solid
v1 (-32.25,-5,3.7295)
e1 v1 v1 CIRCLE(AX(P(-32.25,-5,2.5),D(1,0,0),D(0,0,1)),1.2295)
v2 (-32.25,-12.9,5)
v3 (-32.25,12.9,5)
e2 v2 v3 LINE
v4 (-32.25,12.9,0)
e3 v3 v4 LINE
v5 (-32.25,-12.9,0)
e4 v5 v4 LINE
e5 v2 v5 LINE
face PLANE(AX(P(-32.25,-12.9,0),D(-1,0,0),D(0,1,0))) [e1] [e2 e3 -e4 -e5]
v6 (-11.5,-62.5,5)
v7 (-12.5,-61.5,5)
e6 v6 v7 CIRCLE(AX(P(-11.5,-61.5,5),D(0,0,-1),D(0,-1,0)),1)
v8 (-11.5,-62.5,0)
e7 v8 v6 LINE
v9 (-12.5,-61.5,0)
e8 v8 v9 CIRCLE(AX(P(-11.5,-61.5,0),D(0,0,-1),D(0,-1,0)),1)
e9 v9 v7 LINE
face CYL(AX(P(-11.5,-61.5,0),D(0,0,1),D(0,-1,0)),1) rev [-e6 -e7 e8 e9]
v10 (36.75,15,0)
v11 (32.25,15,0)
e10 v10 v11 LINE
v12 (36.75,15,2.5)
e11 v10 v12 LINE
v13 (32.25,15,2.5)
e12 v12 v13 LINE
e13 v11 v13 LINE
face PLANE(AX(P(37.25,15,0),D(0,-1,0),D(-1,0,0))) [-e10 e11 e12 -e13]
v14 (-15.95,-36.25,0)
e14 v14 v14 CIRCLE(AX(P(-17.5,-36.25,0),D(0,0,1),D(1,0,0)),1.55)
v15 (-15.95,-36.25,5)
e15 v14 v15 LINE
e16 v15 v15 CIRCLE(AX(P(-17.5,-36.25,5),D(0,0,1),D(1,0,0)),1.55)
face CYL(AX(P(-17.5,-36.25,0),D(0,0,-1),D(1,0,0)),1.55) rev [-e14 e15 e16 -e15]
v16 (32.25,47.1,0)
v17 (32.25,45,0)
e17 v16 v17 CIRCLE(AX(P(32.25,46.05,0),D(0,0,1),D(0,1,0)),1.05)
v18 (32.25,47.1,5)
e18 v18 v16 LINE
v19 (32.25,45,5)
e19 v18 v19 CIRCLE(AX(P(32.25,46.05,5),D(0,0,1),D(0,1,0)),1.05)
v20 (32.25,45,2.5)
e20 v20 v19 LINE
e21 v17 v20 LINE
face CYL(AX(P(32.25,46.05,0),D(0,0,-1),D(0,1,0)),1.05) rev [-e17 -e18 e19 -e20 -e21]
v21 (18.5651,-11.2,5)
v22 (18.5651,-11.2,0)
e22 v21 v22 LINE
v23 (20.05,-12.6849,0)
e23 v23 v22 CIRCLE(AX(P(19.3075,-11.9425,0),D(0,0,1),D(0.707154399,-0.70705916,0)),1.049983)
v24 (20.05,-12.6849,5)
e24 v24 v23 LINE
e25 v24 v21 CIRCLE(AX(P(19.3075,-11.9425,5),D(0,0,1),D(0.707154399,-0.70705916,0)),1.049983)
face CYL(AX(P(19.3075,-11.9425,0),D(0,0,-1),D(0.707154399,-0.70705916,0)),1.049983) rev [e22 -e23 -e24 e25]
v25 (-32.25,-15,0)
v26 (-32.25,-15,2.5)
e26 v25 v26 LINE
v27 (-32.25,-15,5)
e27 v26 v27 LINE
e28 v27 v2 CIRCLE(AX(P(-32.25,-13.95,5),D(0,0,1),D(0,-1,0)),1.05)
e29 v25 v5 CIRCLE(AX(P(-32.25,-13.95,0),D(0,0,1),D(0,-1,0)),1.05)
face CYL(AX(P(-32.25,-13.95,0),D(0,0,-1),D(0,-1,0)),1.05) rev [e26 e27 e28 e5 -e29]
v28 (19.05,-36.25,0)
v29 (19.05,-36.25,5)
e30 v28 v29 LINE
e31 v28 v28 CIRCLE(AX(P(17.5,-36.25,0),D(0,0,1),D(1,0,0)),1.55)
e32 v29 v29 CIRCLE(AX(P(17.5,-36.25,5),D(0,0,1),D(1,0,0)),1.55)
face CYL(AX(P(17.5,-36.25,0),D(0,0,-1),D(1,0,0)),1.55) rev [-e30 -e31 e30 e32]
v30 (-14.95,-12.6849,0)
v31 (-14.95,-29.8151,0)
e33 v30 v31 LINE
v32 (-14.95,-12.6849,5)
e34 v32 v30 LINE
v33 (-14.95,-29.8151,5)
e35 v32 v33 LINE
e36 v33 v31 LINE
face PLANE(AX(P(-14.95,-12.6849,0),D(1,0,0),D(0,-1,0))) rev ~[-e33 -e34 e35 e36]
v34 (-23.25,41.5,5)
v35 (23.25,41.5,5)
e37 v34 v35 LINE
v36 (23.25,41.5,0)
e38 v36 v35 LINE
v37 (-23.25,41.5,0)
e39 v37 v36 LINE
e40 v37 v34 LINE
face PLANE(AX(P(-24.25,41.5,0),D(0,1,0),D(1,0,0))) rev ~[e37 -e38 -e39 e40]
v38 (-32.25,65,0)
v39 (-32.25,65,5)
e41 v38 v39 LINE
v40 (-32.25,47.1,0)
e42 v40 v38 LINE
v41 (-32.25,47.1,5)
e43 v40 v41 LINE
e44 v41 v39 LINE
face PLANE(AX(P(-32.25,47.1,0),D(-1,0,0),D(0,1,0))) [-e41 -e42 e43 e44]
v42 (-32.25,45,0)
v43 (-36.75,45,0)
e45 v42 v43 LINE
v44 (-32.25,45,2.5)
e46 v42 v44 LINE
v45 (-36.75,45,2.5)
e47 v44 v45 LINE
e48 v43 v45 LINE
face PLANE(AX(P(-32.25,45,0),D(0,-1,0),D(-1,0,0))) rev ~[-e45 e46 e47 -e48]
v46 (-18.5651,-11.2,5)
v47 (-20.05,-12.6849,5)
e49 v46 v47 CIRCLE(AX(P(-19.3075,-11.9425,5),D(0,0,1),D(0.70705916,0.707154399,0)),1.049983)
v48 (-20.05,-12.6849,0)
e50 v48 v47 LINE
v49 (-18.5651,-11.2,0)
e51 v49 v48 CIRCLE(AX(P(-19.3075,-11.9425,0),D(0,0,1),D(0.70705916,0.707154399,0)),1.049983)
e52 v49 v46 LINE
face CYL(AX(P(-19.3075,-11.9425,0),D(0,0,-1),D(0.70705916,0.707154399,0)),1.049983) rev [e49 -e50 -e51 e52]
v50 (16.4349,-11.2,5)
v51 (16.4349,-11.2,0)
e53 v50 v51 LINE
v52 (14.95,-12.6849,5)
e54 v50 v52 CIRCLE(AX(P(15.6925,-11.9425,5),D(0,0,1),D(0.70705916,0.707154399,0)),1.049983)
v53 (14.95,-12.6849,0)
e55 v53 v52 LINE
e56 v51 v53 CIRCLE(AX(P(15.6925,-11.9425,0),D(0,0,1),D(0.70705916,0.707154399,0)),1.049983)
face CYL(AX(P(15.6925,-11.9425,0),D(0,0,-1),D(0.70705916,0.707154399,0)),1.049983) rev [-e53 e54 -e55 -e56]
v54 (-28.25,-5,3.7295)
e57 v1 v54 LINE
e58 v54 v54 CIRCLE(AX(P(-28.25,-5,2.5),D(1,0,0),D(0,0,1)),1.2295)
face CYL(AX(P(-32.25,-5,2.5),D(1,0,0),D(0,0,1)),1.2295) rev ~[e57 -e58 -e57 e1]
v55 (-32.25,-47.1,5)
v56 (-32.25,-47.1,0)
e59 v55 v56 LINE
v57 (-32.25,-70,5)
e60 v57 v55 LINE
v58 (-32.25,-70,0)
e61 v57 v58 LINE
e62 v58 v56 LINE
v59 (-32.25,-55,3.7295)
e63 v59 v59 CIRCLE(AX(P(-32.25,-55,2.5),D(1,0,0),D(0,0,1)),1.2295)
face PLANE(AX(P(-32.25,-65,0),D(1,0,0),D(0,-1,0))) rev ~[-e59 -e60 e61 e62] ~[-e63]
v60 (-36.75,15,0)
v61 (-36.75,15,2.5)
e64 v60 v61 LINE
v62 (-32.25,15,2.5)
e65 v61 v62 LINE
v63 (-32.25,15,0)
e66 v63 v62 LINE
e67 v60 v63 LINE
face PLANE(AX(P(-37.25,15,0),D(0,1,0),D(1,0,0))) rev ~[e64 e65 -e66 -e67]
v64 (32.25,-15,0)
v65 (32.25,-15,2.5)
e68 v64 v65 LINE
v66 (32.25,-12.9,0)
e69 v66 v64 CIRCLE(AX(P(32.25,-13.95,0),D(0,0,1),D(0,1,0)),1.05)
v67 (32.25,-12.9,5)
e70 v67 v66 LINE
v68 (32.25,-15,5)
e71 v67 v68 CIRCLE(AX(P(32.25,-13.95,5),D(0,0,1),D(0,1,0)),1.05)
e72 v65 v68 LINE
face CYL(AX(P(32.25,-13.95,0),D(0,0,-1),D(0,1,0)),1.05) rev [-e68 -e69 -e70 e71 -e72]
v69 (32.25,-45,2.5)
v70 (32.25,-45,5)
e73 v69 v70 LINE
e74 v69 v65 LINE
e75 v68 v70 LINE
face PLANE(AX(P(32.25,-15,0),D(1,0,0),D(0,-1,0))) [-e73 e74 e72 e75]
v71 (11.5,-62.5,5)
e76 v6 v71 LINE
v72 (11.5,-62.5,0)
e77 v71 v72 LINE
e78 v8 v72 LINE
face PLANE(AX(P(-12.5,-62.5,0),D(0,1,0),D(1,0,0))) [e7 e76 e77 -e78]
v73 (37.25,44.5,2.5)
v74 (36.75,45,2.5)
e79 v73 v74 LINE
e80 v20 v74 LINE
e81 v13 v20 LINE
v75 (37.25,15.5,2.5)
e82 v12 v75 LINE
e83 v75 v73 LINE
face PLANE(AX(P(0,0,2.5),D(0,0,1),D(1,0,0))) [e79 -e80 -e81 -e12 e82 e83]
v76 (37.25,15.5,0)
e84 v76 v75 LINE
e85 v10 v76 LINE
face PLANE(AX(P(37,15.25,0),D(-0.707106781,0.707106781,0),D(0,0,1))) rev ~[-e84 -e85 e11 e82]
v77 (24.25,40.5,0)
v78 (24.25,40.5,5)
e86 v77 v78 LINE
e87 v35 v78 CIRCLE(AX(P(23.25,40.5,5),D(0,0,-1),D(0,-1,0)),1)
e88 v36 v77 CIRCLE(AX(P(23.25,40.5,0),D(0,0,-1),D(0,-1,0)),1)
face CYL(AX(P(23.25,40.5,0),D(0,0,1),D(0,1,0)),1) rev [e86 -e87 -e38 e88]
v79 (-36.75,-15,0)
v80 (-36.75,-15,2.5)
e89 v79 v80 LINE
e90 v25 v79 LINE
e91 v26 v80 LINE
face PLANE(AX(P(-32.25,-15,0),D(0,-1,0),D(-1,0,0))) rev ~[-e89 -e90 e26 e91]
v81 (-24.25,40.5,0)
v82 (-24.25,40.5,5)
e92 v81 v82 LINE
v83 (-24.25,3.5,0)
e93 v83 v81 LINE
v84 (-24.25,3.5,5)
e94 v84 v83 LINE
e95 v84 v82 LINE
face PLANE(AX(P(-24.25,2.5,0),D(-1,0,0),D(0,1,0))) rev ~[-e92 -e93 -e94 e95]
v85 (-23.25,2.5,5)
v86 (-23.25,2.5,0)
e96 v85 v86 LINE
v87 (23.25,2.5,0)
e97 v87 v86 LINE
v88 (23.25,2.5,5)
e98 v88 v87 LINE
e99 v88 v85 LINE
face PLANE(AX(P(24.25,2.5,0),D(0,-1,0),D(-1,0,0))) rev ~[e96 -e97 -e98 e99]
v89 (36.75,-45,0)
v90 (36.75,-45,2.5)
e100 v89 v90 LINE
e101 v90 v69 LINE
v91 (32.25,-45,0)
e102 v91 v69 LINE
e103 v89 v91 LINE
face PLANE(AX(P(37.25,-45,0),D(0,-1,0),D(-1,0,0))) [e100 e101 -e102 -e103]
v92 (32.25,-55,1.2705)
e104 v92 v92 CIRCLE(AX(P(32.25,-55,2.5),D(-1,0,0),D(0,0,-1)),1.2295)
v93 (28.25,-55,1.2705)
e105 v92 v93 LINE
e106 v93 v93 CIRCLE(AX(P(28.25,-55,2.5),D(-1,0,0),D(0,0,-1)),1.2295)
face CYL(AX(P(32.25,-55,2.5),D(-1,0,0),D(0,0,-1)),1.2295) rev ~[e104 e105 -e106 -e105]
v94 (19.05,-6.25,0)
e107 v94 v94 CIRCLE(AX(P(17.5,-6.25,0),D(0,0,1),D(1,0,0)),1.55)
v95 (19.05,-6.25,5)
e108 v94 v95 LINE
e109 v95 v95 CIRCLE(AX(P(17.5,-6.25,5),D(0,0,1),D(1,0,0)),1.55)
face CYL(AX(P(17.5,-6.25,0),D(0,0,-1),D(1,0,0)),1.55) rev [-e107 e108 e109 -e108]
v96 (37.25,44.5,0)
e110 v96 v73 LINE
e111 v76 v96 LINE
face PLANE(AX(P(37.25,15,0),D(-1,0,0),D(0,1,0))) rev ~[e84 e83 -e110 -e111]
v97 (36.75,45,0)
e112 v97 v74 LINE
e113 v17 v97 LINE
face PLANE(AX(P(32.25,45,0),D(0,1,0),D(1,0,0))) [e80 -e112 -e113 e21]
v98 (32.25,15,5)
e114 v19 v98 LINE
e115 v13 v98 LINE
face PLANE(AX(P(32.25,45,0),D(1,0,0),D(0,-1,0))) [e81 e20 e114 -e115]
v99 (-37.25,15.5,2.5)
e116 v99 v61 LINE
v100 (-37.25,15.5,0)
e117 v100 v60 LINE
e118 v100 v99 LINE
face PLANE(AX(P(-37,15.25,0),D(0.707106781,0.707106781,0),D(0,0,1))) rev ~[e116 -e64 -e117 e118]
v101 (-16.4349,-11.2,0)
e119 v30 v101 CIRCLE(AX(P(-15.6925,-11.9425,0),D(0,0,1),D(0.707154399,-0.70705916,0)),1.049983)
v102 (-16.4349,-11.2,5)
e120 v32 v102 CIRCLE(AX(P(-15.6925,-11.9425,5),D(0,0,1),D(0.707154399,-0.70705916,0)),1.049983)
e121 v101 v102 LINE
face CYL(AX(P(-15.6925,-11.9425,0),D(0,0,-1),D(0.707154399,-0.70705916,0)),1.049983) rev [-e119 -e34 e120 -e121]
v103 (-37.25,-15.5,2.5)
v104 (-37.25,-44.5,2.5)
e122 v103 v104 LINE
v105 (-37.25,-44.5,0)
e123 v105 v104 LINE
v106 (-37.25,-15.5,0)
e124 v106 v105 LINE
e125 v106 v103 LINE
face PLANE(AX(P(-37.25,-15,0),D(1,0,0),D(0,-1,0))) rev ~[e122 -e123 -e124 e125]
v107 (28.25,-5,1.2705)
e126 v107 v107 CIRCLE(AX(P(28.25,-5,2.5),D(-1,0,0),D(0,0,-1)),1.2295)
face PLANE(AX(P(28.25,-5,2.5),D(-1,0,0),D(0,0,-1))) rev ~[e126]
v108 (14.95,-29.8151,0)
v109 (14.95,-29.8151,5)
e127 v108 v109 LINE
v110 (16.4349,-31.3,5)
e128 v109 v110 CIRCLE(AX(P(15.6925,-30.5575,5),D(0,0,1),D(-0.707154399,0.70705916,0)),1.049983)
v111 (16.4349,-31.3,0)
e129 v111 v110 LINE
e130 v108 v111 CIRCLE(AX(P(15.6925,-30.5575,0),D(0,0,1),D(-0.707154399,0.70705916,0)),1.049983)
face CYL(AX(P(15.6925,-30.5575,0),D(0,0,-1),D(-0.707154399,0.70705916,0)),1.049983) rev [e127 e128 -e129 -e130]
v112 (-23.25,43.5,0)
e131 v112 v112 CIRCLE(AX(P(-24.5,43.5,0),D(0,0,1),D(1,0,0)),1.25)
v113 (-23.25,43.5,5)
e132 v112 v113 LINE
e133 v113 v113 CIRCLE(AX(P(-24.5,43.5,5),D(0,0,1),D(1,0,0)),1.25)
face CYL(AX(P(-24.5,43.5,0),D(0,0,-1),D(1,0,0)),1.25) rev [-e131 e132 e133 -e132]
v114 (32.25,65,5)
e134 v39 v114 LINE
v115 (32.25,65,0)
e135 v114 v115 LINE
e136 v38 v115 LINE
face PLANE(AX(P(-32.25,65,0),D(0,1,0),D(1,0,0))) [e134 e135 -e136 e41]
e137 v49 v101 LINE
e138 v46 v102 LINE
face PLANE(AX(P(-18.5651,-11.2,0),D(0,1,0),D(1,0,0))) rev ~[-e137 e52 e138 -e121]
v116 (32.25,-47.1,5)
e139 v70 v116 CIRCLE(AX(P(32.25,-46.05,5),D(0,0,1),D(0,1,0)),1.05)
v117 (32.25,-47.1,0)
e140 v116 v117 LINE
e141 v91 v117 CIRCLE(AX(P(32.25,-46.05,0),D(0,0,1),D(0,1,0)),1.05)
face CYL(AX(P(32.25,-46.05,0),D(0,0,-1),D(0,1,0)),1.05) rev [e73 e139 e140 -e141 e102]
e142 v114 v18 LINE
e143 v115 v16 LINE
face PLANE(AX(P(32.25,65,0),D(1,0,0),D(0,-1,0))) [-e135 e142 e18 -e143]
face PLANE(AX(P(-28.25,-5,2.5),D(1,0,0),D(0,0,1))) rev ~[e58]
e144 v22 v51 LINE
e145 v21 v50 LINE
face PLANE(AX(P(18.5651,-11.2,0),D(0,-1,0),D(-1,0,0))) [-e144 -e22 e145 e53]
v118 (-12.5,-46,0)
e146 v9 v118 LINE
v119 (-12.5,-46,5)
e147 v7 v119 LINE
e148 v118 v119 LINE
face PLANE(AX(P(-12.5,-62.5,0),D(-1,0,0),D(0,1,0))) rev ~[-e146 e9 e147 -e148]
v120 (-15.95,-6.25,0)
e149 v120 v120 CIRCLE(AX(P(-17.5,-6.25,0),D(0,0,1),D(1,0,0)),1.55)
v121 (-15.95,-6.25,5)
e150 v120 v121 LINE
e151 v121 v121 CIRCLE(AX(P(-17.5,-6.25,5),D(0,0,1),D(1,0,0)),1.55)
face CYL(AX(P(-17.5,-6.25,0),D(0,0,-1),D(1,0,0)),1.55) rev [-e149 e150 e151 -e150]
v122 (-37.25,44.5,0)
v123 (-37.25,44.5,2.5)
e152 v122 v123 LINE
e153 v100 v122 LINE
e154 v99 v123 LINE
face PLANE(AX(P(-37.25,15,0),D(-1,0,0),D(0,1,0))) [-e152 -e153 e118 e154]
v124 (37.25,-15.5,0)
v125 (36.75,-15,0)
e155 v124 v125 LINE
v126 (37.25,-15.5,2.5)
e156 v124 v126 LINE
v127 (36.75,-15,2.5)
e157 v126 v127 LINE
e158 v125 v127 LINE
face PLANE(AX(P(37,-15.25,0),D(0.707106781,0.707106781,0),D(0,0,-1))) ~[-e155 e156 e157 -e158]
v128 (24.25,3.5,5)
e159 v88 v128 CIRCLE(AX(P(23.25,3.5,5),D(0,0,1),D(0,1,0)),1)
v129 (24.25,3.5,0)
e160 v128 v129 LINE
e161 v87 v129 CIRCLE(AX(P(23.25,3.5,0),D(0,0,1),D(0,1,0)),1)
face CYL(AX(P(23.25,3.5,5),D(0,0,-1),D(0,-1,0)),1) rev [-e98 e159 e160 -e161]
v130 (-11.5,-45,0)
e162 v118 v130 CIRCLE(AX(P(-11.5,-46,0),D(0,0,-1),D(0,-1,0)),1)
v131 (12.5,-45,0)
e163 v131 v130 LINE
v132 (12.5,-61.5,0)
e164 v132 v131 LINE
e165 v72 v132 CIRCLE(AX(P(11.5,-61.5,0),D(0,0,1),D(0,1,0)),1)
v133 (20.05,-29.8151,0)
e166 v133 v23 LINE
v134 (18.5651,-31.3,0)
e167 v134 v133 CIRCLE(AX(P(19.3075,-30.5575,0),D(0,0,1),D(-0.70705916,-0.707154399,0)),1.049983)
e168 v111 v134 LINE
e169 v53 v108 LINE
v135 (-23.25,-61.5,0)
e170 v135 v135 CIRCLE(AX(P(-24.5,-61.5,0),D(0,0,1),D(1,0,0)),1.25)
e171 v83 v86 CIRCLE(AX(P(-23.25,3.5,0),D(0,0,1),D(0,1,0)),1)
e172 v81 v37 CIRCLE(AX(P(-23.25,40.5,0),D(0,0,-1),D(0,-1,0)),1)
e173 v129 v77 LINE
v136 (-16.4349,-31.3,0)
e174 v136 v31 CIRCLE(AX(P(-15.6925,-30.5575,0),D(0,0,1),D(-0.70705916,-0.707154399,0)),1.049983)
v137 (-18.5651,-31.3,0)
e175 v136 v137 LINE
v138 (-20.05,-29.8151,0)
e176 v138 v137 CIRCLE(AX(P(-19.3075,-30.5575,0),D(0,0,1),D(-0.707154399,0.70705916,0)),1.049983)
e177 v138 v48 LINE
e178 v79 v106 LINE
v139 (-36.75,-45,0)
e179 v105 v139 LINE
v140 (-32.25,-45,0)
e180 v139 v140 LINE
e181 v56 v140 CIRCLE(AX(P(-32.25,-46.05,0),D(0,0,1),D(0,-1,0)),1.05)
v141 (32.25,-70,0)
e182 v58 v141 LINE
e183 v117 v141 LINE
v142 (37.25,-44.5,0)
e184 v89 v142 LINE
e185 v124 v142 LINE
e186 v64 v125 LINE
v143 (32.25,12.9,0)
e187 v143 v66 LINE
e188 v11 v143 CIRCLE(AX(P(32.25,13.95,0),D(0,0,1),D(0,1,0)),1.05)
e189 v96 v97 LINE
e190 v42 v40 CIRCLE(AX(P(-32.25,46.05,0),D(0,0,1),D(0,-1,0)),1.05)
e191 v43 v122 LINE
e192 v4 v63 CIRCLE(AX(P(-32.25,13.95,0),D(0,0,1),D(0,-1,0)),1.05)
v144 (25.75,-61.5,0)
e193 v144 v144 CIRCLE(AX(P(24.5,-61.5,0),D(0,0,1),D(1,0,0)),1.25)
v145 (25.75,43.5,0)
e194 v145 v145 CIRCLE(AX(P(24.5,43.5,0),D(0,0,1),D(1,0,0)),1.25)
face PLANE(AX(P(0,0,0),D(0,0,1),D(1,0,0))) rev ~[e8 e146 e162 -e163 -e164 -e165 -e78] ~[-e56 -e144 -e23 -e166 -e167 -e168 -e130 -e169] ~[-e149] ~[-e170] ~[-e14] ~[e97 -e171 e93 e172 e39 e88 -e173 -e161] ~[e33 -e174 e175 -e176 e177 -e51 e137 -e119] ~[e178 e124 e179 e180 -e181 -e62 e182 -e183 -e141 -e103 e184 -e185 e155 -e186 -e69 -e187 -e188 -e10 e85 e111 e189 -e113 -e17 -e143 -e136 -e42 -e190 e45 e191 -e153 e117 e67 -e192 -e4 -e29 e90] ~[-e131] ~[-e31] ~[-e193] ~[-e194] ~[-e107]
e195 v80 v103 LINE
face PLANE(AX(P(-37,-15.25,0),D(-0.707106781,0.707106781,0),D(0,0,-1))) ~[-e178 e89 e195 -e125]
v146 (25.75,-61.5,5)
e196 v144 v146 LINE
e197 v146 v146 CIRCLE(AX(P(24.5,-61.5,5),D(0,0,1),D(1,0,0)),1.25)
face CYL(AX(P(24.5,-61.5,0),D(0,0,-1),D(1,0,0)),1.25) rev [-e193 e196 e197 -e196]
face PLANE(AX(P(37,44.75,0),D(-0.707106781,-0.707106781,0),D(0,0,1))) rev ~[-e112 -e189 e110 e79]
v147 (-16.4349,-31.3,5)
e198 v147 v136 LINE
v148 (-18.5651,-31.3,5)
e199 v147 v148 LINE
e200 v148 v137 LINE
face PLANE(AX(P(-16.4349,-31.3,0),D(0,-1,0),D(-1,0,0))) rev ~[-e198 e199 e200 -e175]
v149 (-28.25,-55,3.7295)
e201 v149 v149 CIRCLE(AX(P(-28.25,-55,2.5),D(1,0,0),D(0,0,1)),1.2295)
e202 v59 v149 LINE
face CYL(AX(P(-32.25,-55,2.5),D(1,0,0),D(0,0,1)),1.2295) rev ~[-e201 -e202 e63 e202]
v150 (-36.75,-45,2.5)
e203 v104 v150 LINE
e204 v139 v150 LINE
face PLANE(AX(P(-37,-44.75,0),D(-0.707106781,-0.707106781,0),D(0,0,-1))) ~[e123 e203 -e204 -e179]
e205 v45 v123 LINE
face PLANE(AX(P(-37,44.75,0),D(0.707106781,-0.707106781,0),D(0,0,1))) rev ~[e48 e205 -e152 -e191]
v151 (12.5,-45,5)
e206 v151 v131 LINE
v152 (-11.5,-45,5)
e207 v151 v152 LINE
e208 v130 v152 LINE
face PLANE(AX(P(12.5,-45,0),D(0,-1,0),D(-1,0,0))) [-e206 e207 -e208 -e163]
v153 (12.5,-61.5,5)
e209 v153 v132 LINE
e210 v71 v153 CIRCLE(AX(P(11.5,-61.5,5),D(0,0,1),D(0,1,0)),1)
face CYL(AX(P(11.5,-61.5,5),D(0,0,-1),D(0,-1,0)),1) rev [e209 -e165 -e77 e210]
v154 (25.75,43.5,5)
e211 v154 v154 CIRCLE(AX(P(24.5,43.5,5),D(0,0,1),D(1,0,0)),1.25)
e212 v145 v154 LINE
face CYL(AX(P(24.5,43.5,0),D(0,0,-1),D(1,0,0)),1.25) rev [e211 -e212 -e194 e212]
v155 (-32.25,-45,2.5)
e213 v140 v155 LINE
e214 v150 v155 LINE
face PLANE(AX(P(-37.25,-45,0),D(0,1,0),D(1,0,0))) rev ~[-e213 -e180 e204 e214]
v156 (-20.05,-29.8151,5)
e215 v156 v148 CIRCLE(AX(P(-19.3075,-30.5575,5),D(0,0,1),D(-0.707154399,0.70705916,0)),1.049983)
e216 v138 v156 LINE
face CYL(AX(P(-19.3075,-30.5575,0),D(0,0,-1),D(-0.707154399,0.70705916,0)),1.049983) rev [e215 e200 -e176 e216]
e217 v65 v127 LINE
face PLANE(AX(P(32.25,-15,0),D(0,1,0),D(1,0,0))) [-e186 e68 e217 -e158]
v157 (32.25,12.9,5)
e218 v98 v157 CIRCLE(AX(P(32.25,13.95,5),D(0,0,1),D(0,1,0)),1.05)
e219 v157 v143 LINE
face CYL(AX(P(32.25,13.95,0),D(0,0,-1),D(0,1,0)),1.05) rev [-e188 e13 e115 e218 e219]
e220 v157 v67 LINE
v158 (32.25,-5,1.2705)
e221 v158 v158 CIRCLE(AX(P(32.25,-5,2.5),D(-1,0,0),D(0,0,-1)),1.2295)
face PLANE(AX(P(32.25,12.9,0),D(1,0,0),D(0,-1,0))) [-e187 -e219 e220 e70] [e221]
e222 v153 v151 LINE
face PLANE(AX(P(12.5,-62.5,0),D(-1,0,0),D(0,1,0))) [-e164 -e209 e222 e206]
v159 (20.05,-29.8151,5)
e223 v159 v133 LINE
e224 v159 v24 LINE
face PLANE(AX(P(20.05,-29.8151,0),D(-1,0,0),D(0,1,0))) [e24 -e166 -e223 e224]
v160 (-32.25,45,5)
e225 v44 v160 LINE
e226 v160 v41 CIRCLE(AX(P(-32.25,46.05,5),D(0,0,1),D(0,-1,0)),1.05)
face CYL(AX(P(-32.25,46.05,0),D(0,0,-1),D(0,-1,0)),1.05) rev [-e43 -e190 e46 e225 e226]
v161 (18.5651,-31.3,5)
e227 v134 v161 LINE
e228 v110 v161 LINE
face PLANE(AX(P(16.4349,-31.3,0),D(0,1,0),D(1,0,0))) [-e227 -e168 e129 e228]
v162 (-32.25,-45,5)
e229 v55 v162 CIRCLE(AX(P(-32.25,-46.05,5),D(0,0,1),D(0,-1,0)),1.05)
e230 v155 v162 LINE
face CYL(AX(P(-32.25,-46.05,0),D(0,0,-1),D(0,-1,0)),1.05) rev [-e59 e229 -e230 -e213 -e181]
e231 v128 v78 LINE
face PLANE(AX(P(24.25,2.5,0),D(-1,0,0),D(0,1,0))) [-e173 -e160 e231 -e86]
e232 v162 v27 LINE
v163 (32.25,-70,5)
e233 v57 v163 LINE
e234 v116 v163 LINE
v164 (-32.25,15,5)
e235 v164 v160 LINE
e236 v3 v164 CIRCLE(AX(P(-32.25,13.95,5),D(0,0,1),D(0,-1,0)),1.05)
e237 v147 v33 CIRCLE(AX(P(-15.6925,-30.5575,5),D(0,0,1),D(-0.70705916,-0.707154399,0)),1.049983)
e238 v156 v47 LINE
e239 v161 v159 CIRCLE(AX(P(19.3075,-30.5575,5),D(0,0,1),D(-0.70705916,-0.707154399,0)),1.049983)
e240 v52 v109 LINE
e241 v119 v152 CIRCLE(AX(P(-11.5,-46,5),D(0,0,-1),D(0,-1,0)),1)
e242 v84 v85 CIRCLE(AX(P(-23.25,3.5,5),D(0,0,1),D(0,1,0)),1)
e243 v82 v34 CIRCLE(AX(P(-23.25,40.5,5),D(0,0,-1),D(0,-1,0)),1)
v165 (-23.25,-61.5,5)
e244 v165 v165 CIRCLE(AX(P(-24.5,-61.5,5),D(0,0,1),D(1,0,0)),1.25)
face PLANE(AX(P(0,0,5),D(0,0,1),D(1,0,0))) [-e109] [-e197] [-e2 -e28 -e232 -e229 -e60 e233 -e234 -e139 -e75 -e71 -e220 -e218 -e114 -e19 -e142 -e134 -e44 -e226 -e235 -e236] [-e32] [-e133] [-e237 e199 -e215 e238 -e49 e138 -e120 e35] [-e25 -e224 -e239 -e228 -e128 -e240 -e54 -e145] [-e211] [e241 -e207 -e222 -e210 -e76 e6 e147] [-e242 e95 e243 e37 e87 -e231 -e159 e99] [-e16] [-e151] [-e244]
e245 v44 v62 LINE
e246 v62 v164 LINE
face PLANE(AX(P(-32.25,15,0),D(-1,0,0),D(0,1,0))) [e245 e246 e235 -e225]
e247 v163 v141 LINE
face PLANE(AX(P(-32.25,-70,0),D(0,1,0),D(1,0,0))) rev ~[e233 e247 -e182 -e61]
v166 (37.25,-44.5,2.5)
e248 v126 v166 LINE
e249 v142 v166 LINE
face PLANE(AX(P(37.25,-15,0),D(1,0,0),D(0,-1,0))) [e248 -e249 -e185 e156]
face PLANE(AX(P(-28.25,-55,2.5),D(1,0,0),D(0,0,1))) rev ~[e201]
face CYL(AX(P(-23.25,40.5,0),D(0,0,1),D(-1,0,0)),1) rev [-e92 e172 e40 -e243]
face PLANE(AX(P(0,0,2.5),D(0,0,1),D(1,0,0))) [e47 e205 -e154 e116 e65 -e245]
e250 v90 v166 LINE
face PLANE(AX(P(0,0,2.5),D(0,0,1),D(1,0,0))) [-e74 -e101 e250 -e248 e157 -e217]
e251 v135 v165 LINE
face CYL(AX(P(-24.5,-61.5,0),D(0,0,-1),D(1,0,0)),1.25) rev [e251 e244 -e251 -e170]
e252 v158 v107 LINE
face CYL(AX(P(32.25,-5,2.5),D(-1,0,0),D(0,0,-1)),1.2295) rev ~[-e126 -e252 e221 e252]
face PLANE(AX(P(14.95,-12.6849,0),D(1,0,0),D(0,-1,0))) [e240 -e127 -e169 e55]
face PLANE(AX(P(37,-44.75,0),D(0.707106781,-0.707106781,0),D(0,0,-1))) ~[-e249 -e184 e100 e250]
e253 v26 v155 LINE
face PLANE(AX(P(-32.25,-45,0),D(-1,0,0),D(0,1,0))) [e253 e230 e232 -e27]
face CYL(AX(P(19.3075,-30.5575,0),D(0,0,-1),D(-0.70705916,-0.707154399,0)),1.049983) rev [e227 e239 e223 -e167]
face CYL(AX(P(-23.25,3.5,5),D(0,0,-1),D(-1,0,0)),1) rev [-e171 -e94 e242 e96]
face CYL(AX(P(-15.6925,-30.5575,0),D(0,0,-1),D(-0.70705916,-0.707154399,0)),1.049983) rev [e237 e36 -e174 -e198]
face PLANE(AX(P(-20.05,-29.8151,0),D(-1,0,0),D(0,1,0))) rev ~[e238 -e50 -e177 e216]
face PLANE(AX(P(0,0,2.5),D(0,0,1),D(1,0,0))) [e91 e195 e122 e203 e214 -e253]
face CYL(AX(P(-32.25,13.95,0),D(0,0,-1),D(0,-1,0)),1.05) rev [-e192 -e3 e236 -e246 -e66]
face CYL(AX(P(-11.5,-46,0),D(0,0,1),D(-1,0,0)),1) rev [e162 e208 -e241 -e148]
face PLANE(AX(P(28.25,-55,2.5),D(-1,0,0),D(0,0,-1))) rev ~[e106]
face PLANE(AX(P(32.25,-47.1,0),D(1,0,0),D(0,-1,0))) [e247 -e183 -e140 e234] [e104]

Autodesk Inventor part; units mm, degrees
ref_plane "YZ Plane" through (0, 0, 0) normal (1, 0, 0) x (0, 1, 0)
ref_plane "XZ Plane" through (0, 0, 0) normal (0, 1, 0) x (-1, 0, 0)
ref_plane "XY Plane" through (0, 0, 0) normal (0, 0, 1) x (1, 0, 0)
sketch "スケッチ1" plane through (0, 0, 0) normal (0, 0, 1) x (1, 0, 0)
  line L0 (-32.25, 65) -> (32.25, 65)
  line L1 (32.25, 65) -> (32.25, 47.1)
  line L2 (-32.25, -65) -> (-32.25, -47.1)
  line L3 (-32.25, 65) -> (32.25, -65) construction
  line L4 (32.25, 65) -> (-32.25, -65) construction
  line L5 (-32.25, 45) -> (-37.25, 45)
  line L6 (-37.25, 15) -> (-32.25, 15)
  line L7 (-37.25, 15) -> (-37.25, 45)
  line L8 (-32.25, -15) -> (-37.25, -15)
  line L9 (-37.25, -15) -> (-37.25, -45)
  line L10 (-37.25, -45) -> (-32.25, -45)
  arc A0 (-32.25, 45) -> (-32.25, 47.1) centre (-32.25, 46.05) ccw
  arc A1 (-32.25, 12.9) -> (-32.25, 15) centre (-32.25, 13.95) ccw
  arc A2 (-32.25, -15) -> (-32.25, -12.9) centre (-32.25, -13.95) ccw
  arc A3 (-32.25, -47.1) -> (-32.25, -45) centre (-32.25, -46.05) ccw
  line L11 (-32.25, 47.1) -> (-32.25, 65)
  line L12 (-32.25, 12.9) -> (-32.25, 15) construction
  line L13 (-32.25, -12.9) -> (-32.25, 12.9)
  line L14 (-32.25, -47.1) -> (-32.25, -45) construction
  line L15 (0, 65) -> (0, -65) construction
  arc A4 (32.25, -45) -> (32.25, -47.1) centre (32.25, -46.05) ccw
  line L16 (37.25, -45) -> (32.25, -45)
  line L17 (37.25, -15) -> (37.25, -45)
  line L18 (32.25, -15) -> (37.25, -15)
  arc A5 (32.25, -12.9) -> (32.25, -15) centre (32.25, -13.95) ccw
  arc A6 (32.25, 15) -> (32.25, 12.9) centre (32.25, 13.95) ccw
  line L19 (37.25, 15) -> (37.25, 45)
  line L20 (37.25, 15) -> (32.25, 15)
  line L21 (32.25, 45) -> (37.25, 45)
  arc A7 (32.25, 47.1) -> (32.25, 45) centre (32.25, 46.05) ccw
  line L22 (32.25, 47.1) -> (32.25, 45) construction
  line L23 (32.25, 12.9) -> (32.25, -12.9)
  line L24 (32.25, -47.1) -> (32.25, -65)
  line L25 (32.25, -12.9) -> (32.25, -15) construction
  line L26 (-32.25, -15) -> (-32.25, -12.9) construction
  line L27 (-32.25, -45) -> (-32.25, -15)
  line L28 (32.25, -15) -> (32.25, -45)
  line L29 (32.25, -45) -> (32.25, -47.1) construction
  line L30 (-20, -11.25) -> (-15, -11.25) construction
  line L31 (-15, -11.25) -> (-15, -31.25) construction
  line L32 (-15, -31.25) -> (-20, -31.25) construction
  line L33 (-20, -31.25) -> (-20, -11.25) construction
  line L34 (-20, -11.25) -> (-15, -31.25) construction
  line L35 (-15, -11.25) -> (-20, -31.25) construction
  line L36 (-20, 2.5) -> (-15, 2.5) construction
  line L37 (-15, 2.5) -> (-15, -45) construction
  line L38 (-15, -45) -> (-20, -45) construction
  line L39 (-20, -45) -> (-20, 2.5) construction
  line L40 (-20, 2.5) -> (-15, -45) construction
  line L41 (-15, 2.5) -> (-20, -45) construction
  circle A8 centre (-17.5, -36.25) radius 1.55
  line L42 (-20, -21.25) -> (-15, -21.25) construction
  line L43 (-17.5, 2.5) -> (-17.5, -45) construction
  circle A9 centre (-17.5, -6.25) radius 1.55
  circle A10 centre (17.5, -36.25) radius 1.55
  circle A11 centre (17.5, -6.25) radius 1.55
  line L44 (32.25, -65) -> (16.75, -65) construction
  line L45 (-12.5, -62.5) -> (-12.5, -45)
  line L46 (-12.5, -45) -> (0, -45)
  line L47 (12.5, -62.5) -> (12.5, -45)
  line L48 (12.5, -45) -> (0, -45)
  line L49 (-16.75, -65) -> (-32.25, -65) construction
  line L50 (16.75, -65) -> (-16.75, -65) construction
  line L51 (-32.25, 45) -> (-32.25, 47.1) construction
  line L52 (-32.25, 15) -> (-32.25, 45)
  line L53 (32.25, 15) -> (32.25, 12.9) construction
  line L54 (32.25, 45) -> (32.25, 15)
  circle A12 centre (-24.5, 43.5) radius 1.25
  line L55 (-32.25, 0) -> (32.25, 0) construction
  line L56 (-32.25, 46.5) -> (32.25, 46.5) construction
  circle A13 centre (-24.5, -61.5) radius 1.25
  circle A14 centre (24.5, 43.5) radius 1.25
  circle A15 centre (24.5, -61.5) radius 1.25
  circle A16 centre (-17.5, -36.25) radius 3 construction
  line L57 (-12.5, -62.5) -> (12.5, -62.5)
  line L58 (-24.25, 41.5) -> (24.25, 41.5)
  line L59 (24.25, 2.5) -> (-24.25, 2.5)
  line L60 (-24.25, 2.5) -> (-24.25, 41.5)
  line L61 (24.25, 2.5) -> (24.25, 41.5)
  line L62 (-20.05, -29.8151) -> (-18.5651, -31.3) construction
  line L63 (-19.3075, -30.5575) -> (-20.05, -31.3) construction
  arc A17 (-20.05, -29.8151) -> (-18.5651, -31.3) centre (-19.3075, -30.5575) ccw
  line L64 (-20.05, -11.2) -> (-18.5651, -11.2) construction
  line L65 (-14.95, -11.2) -> (-14.95, -12.6849) construction
  line L66 (-14.95, -31.3) -> (-16.4349, -31.3) construction
  line L67 (-20.05, -31.3) -> (-20.05, -29.8151) construction
  line L68 (-20.05, -11.2) -> (-14.95, -31.3) construction
  line L69 (-14.95, -11.2) -> (-20.05, -31.3) construction
  arc A18 (-16.4349, -31.3) -> (-14.95, -29.8151) centre (-15.6925, -30.5575) ccw
  arc A19 (-18.5651, -11.2) -> (-20.05, -12.6849) centre (-19.3075, -11.9425) ccw
  arc A20 (-14.95, -12.6849) -> (-16.4349, -11.2) centre (-15.6925, -11.9425) ccw
  line L70 (-20.05, -29.8151) -> (-20.05, -12.6849)
  line L71 (-18.5651, -31.3) -> (-20.05, -31.3) construction
  line L72 (-16.4349, -31.3) -> (-18.5651, -31.3)
  line L73 (-14.95, -29.8151) -> (-14.95, -31.3) construction
  line L74 (-20.05, -12.6849) -> (-20.05, -11.2) construction
  line L75 (-18.5651, -11.2) -> (-16.4349, -11.2)
  line L76 (-16.4349, -11.2) -> (-14.95, -11.2) construction
  line L77 (-14.95, -12.6849) -> (-14.95, -29.8151)
  arc A21 (18.5651, -31.3) -> (20.05, -29.8151) centre (19.3075, -30.5575) ccw
  arc A22 (14.95, -29.8151) -> (16.4349, -31.3) centre (15.6925, -30.5575) ccw
  arc A23 (16.4349, -11.2) -> (14.95, -12.6849) centre (15.6925, -11.9425) ccw
  arc A24 (20.05, -12.6849) -> (18.5651, -11.2) centre (19.3075, -11.9425) ccw
  line L78 (20.05, -29.8151) -> (20.05, -12.6849)
  line L79 (16.4349, -31.3) -> (18.5651, -31.3)
  line L80 (18.5651, -11.2) -> (16.4349, -11.2)
  line L81 (14.95, -12.6849) -> (14.95, -29.8151)
  line L82 (-32.25, -65) -> (-32.25, -70)
  line L83 (-32.25, -70) -> (32.25, -70)
  line L84 (32.25, -70) -> (32.25, -65)
  point P0 (0, 0)
  point P1 (0, 0)
  point P2 (0, 0)
  point P3 (28, 15)
  point P4 (28, 45)
  point P5 (-17.5, -21.25)
  point P6 (28, 45)
  point P7 (28, 15)
  dimension "d0" = 64.5
  dimension "d1" = 130
  dimension "d2" = 20
  dimension "d3" = 30
  dimension "d4" = 30
  dimension "d5" = 30
  dimension "d6" = 1.05
  dimension "d7" = 1.05
  dimension "d8" = 1.05
  dimension "d9" = 1.05
  dimension "d10" = 5
  dimension "d23" = 15
  dimension "d24" = 5
  dimension "d25" = 20
  dimension "d28" = 3.1
  dimension "d72" = 47.5
  dimension "d103" = 12.25
  dimension "d109" = 71.25
  dimension "d111" = 20
  dimension "d113" = 7.75
  dimension "d114" = 2.5
  dimension "d115" = 18.5
  dimension "d116" = 3
  dimension "d117" = 2.5
  dimension "d118" = 7.75
  dimension "d119" = 3.5
  dimension "d120" = 25
  dimension "d121" = 6
  dimension "d124" = 2.5
  dimension "d126" = 8
  dimension "d128" = 5
  dimension "d130" = 1.05
  dimension "d131" = 0.05
  dimension "d132" = 0.05
  dimension "d133" = 5
  dimension "d157" = 25
  dimension "d158" = 30
extrude "押し出し1" add sketch "スケッチ1" along normal blind 2.5
extrude "押し出し2" add sketch "スケッチ1" along normal blind 5 contours L0 L1 A7 L54 A6 L23 A5 L28 A4 L24 L84 L83 L82 L2 A3 L27 A2 L13 A1 L52 A0 L11
fillet "フィレット1" radius 1 7 edges at (-12.5, -45, 2.5) (-12.5, -62.5, 2.5) (12.5, -62.5, 2.5) (-24.25, 41.5, 2.5) (24.25, 41.5, 2.5) (24.25, 2.5, 2.5) (-24.25, 2.5, 2.5)
sketch "スケッチ7" plane through (32.25, -70, 0) normal (1, 0, 0) x (0, 0, -1)
  line L0 (0, 55) -> (-2.5, 55) projected
  line L1 (0, 57.1) -> (0, 82.9) projected
  line L2 (0, 0) -> (0, 22.9) projected
  point P0 (0, 70)
  point P1 (-2.5, 15)
  point P2 (-2.5, 65)
  point P3 (0, 25)
  dimension "d136" = 10
  dimension "d137" = 10
  dimension "d138" = 2.5
  dimension "d139" = 2.5
hole "穴6" at (32.25, -55, 2.5) at (32.25, -5, 2.5) direction (-1, 0, 0) diameter 2.459 depth 4 thread size "M3x0.5" class "6H" standard "ISO Metric profile"
sketch "スケッチ8" plane through (-32.25, -70, 0) normal (-1, 0, 0) x (0, 0, 1)
  circle A0 centre (2.5, 15) radius 1.2295 projected
  circle A1 centre (2.5, 65) radius 1.2295 projected
  point P0 (0, 70)
  point P1 (2.5, 15)
  point P2 (2.5, 65)
hole "穴7" at (-32.25, -5, 2.5) at (-32.25, -55, 2.5) direction (1, 0, 0) diameter 2.459 depth 4 thread size "M3x0.5" class "6H" standard "ISO Metric profile"
chamfer "面取り2" distance 0.5 angle 45 8 edges at (-37.25, -45, 1.25) (-37.25, -15, 1.25) (-37.25, 15, 1.25) (-37.25, 45, 1.25) (37.25, 15, 1.25) (37.25, 45, 1.25) (37.25, -15, 1.25) (37.25, -45, 1.25)
equation "\"d2\" = -0.5 * d4 + 0.5 * d1 - d3"
equation "\"d5\" = d3"
equation "\"d7\" = d6"
equation "\"d8\" = d7"
equation "\"d9\" = d8"
properties part number "Cockpit_horizontal_frame_02" material "アセタール樹脂、黒"
